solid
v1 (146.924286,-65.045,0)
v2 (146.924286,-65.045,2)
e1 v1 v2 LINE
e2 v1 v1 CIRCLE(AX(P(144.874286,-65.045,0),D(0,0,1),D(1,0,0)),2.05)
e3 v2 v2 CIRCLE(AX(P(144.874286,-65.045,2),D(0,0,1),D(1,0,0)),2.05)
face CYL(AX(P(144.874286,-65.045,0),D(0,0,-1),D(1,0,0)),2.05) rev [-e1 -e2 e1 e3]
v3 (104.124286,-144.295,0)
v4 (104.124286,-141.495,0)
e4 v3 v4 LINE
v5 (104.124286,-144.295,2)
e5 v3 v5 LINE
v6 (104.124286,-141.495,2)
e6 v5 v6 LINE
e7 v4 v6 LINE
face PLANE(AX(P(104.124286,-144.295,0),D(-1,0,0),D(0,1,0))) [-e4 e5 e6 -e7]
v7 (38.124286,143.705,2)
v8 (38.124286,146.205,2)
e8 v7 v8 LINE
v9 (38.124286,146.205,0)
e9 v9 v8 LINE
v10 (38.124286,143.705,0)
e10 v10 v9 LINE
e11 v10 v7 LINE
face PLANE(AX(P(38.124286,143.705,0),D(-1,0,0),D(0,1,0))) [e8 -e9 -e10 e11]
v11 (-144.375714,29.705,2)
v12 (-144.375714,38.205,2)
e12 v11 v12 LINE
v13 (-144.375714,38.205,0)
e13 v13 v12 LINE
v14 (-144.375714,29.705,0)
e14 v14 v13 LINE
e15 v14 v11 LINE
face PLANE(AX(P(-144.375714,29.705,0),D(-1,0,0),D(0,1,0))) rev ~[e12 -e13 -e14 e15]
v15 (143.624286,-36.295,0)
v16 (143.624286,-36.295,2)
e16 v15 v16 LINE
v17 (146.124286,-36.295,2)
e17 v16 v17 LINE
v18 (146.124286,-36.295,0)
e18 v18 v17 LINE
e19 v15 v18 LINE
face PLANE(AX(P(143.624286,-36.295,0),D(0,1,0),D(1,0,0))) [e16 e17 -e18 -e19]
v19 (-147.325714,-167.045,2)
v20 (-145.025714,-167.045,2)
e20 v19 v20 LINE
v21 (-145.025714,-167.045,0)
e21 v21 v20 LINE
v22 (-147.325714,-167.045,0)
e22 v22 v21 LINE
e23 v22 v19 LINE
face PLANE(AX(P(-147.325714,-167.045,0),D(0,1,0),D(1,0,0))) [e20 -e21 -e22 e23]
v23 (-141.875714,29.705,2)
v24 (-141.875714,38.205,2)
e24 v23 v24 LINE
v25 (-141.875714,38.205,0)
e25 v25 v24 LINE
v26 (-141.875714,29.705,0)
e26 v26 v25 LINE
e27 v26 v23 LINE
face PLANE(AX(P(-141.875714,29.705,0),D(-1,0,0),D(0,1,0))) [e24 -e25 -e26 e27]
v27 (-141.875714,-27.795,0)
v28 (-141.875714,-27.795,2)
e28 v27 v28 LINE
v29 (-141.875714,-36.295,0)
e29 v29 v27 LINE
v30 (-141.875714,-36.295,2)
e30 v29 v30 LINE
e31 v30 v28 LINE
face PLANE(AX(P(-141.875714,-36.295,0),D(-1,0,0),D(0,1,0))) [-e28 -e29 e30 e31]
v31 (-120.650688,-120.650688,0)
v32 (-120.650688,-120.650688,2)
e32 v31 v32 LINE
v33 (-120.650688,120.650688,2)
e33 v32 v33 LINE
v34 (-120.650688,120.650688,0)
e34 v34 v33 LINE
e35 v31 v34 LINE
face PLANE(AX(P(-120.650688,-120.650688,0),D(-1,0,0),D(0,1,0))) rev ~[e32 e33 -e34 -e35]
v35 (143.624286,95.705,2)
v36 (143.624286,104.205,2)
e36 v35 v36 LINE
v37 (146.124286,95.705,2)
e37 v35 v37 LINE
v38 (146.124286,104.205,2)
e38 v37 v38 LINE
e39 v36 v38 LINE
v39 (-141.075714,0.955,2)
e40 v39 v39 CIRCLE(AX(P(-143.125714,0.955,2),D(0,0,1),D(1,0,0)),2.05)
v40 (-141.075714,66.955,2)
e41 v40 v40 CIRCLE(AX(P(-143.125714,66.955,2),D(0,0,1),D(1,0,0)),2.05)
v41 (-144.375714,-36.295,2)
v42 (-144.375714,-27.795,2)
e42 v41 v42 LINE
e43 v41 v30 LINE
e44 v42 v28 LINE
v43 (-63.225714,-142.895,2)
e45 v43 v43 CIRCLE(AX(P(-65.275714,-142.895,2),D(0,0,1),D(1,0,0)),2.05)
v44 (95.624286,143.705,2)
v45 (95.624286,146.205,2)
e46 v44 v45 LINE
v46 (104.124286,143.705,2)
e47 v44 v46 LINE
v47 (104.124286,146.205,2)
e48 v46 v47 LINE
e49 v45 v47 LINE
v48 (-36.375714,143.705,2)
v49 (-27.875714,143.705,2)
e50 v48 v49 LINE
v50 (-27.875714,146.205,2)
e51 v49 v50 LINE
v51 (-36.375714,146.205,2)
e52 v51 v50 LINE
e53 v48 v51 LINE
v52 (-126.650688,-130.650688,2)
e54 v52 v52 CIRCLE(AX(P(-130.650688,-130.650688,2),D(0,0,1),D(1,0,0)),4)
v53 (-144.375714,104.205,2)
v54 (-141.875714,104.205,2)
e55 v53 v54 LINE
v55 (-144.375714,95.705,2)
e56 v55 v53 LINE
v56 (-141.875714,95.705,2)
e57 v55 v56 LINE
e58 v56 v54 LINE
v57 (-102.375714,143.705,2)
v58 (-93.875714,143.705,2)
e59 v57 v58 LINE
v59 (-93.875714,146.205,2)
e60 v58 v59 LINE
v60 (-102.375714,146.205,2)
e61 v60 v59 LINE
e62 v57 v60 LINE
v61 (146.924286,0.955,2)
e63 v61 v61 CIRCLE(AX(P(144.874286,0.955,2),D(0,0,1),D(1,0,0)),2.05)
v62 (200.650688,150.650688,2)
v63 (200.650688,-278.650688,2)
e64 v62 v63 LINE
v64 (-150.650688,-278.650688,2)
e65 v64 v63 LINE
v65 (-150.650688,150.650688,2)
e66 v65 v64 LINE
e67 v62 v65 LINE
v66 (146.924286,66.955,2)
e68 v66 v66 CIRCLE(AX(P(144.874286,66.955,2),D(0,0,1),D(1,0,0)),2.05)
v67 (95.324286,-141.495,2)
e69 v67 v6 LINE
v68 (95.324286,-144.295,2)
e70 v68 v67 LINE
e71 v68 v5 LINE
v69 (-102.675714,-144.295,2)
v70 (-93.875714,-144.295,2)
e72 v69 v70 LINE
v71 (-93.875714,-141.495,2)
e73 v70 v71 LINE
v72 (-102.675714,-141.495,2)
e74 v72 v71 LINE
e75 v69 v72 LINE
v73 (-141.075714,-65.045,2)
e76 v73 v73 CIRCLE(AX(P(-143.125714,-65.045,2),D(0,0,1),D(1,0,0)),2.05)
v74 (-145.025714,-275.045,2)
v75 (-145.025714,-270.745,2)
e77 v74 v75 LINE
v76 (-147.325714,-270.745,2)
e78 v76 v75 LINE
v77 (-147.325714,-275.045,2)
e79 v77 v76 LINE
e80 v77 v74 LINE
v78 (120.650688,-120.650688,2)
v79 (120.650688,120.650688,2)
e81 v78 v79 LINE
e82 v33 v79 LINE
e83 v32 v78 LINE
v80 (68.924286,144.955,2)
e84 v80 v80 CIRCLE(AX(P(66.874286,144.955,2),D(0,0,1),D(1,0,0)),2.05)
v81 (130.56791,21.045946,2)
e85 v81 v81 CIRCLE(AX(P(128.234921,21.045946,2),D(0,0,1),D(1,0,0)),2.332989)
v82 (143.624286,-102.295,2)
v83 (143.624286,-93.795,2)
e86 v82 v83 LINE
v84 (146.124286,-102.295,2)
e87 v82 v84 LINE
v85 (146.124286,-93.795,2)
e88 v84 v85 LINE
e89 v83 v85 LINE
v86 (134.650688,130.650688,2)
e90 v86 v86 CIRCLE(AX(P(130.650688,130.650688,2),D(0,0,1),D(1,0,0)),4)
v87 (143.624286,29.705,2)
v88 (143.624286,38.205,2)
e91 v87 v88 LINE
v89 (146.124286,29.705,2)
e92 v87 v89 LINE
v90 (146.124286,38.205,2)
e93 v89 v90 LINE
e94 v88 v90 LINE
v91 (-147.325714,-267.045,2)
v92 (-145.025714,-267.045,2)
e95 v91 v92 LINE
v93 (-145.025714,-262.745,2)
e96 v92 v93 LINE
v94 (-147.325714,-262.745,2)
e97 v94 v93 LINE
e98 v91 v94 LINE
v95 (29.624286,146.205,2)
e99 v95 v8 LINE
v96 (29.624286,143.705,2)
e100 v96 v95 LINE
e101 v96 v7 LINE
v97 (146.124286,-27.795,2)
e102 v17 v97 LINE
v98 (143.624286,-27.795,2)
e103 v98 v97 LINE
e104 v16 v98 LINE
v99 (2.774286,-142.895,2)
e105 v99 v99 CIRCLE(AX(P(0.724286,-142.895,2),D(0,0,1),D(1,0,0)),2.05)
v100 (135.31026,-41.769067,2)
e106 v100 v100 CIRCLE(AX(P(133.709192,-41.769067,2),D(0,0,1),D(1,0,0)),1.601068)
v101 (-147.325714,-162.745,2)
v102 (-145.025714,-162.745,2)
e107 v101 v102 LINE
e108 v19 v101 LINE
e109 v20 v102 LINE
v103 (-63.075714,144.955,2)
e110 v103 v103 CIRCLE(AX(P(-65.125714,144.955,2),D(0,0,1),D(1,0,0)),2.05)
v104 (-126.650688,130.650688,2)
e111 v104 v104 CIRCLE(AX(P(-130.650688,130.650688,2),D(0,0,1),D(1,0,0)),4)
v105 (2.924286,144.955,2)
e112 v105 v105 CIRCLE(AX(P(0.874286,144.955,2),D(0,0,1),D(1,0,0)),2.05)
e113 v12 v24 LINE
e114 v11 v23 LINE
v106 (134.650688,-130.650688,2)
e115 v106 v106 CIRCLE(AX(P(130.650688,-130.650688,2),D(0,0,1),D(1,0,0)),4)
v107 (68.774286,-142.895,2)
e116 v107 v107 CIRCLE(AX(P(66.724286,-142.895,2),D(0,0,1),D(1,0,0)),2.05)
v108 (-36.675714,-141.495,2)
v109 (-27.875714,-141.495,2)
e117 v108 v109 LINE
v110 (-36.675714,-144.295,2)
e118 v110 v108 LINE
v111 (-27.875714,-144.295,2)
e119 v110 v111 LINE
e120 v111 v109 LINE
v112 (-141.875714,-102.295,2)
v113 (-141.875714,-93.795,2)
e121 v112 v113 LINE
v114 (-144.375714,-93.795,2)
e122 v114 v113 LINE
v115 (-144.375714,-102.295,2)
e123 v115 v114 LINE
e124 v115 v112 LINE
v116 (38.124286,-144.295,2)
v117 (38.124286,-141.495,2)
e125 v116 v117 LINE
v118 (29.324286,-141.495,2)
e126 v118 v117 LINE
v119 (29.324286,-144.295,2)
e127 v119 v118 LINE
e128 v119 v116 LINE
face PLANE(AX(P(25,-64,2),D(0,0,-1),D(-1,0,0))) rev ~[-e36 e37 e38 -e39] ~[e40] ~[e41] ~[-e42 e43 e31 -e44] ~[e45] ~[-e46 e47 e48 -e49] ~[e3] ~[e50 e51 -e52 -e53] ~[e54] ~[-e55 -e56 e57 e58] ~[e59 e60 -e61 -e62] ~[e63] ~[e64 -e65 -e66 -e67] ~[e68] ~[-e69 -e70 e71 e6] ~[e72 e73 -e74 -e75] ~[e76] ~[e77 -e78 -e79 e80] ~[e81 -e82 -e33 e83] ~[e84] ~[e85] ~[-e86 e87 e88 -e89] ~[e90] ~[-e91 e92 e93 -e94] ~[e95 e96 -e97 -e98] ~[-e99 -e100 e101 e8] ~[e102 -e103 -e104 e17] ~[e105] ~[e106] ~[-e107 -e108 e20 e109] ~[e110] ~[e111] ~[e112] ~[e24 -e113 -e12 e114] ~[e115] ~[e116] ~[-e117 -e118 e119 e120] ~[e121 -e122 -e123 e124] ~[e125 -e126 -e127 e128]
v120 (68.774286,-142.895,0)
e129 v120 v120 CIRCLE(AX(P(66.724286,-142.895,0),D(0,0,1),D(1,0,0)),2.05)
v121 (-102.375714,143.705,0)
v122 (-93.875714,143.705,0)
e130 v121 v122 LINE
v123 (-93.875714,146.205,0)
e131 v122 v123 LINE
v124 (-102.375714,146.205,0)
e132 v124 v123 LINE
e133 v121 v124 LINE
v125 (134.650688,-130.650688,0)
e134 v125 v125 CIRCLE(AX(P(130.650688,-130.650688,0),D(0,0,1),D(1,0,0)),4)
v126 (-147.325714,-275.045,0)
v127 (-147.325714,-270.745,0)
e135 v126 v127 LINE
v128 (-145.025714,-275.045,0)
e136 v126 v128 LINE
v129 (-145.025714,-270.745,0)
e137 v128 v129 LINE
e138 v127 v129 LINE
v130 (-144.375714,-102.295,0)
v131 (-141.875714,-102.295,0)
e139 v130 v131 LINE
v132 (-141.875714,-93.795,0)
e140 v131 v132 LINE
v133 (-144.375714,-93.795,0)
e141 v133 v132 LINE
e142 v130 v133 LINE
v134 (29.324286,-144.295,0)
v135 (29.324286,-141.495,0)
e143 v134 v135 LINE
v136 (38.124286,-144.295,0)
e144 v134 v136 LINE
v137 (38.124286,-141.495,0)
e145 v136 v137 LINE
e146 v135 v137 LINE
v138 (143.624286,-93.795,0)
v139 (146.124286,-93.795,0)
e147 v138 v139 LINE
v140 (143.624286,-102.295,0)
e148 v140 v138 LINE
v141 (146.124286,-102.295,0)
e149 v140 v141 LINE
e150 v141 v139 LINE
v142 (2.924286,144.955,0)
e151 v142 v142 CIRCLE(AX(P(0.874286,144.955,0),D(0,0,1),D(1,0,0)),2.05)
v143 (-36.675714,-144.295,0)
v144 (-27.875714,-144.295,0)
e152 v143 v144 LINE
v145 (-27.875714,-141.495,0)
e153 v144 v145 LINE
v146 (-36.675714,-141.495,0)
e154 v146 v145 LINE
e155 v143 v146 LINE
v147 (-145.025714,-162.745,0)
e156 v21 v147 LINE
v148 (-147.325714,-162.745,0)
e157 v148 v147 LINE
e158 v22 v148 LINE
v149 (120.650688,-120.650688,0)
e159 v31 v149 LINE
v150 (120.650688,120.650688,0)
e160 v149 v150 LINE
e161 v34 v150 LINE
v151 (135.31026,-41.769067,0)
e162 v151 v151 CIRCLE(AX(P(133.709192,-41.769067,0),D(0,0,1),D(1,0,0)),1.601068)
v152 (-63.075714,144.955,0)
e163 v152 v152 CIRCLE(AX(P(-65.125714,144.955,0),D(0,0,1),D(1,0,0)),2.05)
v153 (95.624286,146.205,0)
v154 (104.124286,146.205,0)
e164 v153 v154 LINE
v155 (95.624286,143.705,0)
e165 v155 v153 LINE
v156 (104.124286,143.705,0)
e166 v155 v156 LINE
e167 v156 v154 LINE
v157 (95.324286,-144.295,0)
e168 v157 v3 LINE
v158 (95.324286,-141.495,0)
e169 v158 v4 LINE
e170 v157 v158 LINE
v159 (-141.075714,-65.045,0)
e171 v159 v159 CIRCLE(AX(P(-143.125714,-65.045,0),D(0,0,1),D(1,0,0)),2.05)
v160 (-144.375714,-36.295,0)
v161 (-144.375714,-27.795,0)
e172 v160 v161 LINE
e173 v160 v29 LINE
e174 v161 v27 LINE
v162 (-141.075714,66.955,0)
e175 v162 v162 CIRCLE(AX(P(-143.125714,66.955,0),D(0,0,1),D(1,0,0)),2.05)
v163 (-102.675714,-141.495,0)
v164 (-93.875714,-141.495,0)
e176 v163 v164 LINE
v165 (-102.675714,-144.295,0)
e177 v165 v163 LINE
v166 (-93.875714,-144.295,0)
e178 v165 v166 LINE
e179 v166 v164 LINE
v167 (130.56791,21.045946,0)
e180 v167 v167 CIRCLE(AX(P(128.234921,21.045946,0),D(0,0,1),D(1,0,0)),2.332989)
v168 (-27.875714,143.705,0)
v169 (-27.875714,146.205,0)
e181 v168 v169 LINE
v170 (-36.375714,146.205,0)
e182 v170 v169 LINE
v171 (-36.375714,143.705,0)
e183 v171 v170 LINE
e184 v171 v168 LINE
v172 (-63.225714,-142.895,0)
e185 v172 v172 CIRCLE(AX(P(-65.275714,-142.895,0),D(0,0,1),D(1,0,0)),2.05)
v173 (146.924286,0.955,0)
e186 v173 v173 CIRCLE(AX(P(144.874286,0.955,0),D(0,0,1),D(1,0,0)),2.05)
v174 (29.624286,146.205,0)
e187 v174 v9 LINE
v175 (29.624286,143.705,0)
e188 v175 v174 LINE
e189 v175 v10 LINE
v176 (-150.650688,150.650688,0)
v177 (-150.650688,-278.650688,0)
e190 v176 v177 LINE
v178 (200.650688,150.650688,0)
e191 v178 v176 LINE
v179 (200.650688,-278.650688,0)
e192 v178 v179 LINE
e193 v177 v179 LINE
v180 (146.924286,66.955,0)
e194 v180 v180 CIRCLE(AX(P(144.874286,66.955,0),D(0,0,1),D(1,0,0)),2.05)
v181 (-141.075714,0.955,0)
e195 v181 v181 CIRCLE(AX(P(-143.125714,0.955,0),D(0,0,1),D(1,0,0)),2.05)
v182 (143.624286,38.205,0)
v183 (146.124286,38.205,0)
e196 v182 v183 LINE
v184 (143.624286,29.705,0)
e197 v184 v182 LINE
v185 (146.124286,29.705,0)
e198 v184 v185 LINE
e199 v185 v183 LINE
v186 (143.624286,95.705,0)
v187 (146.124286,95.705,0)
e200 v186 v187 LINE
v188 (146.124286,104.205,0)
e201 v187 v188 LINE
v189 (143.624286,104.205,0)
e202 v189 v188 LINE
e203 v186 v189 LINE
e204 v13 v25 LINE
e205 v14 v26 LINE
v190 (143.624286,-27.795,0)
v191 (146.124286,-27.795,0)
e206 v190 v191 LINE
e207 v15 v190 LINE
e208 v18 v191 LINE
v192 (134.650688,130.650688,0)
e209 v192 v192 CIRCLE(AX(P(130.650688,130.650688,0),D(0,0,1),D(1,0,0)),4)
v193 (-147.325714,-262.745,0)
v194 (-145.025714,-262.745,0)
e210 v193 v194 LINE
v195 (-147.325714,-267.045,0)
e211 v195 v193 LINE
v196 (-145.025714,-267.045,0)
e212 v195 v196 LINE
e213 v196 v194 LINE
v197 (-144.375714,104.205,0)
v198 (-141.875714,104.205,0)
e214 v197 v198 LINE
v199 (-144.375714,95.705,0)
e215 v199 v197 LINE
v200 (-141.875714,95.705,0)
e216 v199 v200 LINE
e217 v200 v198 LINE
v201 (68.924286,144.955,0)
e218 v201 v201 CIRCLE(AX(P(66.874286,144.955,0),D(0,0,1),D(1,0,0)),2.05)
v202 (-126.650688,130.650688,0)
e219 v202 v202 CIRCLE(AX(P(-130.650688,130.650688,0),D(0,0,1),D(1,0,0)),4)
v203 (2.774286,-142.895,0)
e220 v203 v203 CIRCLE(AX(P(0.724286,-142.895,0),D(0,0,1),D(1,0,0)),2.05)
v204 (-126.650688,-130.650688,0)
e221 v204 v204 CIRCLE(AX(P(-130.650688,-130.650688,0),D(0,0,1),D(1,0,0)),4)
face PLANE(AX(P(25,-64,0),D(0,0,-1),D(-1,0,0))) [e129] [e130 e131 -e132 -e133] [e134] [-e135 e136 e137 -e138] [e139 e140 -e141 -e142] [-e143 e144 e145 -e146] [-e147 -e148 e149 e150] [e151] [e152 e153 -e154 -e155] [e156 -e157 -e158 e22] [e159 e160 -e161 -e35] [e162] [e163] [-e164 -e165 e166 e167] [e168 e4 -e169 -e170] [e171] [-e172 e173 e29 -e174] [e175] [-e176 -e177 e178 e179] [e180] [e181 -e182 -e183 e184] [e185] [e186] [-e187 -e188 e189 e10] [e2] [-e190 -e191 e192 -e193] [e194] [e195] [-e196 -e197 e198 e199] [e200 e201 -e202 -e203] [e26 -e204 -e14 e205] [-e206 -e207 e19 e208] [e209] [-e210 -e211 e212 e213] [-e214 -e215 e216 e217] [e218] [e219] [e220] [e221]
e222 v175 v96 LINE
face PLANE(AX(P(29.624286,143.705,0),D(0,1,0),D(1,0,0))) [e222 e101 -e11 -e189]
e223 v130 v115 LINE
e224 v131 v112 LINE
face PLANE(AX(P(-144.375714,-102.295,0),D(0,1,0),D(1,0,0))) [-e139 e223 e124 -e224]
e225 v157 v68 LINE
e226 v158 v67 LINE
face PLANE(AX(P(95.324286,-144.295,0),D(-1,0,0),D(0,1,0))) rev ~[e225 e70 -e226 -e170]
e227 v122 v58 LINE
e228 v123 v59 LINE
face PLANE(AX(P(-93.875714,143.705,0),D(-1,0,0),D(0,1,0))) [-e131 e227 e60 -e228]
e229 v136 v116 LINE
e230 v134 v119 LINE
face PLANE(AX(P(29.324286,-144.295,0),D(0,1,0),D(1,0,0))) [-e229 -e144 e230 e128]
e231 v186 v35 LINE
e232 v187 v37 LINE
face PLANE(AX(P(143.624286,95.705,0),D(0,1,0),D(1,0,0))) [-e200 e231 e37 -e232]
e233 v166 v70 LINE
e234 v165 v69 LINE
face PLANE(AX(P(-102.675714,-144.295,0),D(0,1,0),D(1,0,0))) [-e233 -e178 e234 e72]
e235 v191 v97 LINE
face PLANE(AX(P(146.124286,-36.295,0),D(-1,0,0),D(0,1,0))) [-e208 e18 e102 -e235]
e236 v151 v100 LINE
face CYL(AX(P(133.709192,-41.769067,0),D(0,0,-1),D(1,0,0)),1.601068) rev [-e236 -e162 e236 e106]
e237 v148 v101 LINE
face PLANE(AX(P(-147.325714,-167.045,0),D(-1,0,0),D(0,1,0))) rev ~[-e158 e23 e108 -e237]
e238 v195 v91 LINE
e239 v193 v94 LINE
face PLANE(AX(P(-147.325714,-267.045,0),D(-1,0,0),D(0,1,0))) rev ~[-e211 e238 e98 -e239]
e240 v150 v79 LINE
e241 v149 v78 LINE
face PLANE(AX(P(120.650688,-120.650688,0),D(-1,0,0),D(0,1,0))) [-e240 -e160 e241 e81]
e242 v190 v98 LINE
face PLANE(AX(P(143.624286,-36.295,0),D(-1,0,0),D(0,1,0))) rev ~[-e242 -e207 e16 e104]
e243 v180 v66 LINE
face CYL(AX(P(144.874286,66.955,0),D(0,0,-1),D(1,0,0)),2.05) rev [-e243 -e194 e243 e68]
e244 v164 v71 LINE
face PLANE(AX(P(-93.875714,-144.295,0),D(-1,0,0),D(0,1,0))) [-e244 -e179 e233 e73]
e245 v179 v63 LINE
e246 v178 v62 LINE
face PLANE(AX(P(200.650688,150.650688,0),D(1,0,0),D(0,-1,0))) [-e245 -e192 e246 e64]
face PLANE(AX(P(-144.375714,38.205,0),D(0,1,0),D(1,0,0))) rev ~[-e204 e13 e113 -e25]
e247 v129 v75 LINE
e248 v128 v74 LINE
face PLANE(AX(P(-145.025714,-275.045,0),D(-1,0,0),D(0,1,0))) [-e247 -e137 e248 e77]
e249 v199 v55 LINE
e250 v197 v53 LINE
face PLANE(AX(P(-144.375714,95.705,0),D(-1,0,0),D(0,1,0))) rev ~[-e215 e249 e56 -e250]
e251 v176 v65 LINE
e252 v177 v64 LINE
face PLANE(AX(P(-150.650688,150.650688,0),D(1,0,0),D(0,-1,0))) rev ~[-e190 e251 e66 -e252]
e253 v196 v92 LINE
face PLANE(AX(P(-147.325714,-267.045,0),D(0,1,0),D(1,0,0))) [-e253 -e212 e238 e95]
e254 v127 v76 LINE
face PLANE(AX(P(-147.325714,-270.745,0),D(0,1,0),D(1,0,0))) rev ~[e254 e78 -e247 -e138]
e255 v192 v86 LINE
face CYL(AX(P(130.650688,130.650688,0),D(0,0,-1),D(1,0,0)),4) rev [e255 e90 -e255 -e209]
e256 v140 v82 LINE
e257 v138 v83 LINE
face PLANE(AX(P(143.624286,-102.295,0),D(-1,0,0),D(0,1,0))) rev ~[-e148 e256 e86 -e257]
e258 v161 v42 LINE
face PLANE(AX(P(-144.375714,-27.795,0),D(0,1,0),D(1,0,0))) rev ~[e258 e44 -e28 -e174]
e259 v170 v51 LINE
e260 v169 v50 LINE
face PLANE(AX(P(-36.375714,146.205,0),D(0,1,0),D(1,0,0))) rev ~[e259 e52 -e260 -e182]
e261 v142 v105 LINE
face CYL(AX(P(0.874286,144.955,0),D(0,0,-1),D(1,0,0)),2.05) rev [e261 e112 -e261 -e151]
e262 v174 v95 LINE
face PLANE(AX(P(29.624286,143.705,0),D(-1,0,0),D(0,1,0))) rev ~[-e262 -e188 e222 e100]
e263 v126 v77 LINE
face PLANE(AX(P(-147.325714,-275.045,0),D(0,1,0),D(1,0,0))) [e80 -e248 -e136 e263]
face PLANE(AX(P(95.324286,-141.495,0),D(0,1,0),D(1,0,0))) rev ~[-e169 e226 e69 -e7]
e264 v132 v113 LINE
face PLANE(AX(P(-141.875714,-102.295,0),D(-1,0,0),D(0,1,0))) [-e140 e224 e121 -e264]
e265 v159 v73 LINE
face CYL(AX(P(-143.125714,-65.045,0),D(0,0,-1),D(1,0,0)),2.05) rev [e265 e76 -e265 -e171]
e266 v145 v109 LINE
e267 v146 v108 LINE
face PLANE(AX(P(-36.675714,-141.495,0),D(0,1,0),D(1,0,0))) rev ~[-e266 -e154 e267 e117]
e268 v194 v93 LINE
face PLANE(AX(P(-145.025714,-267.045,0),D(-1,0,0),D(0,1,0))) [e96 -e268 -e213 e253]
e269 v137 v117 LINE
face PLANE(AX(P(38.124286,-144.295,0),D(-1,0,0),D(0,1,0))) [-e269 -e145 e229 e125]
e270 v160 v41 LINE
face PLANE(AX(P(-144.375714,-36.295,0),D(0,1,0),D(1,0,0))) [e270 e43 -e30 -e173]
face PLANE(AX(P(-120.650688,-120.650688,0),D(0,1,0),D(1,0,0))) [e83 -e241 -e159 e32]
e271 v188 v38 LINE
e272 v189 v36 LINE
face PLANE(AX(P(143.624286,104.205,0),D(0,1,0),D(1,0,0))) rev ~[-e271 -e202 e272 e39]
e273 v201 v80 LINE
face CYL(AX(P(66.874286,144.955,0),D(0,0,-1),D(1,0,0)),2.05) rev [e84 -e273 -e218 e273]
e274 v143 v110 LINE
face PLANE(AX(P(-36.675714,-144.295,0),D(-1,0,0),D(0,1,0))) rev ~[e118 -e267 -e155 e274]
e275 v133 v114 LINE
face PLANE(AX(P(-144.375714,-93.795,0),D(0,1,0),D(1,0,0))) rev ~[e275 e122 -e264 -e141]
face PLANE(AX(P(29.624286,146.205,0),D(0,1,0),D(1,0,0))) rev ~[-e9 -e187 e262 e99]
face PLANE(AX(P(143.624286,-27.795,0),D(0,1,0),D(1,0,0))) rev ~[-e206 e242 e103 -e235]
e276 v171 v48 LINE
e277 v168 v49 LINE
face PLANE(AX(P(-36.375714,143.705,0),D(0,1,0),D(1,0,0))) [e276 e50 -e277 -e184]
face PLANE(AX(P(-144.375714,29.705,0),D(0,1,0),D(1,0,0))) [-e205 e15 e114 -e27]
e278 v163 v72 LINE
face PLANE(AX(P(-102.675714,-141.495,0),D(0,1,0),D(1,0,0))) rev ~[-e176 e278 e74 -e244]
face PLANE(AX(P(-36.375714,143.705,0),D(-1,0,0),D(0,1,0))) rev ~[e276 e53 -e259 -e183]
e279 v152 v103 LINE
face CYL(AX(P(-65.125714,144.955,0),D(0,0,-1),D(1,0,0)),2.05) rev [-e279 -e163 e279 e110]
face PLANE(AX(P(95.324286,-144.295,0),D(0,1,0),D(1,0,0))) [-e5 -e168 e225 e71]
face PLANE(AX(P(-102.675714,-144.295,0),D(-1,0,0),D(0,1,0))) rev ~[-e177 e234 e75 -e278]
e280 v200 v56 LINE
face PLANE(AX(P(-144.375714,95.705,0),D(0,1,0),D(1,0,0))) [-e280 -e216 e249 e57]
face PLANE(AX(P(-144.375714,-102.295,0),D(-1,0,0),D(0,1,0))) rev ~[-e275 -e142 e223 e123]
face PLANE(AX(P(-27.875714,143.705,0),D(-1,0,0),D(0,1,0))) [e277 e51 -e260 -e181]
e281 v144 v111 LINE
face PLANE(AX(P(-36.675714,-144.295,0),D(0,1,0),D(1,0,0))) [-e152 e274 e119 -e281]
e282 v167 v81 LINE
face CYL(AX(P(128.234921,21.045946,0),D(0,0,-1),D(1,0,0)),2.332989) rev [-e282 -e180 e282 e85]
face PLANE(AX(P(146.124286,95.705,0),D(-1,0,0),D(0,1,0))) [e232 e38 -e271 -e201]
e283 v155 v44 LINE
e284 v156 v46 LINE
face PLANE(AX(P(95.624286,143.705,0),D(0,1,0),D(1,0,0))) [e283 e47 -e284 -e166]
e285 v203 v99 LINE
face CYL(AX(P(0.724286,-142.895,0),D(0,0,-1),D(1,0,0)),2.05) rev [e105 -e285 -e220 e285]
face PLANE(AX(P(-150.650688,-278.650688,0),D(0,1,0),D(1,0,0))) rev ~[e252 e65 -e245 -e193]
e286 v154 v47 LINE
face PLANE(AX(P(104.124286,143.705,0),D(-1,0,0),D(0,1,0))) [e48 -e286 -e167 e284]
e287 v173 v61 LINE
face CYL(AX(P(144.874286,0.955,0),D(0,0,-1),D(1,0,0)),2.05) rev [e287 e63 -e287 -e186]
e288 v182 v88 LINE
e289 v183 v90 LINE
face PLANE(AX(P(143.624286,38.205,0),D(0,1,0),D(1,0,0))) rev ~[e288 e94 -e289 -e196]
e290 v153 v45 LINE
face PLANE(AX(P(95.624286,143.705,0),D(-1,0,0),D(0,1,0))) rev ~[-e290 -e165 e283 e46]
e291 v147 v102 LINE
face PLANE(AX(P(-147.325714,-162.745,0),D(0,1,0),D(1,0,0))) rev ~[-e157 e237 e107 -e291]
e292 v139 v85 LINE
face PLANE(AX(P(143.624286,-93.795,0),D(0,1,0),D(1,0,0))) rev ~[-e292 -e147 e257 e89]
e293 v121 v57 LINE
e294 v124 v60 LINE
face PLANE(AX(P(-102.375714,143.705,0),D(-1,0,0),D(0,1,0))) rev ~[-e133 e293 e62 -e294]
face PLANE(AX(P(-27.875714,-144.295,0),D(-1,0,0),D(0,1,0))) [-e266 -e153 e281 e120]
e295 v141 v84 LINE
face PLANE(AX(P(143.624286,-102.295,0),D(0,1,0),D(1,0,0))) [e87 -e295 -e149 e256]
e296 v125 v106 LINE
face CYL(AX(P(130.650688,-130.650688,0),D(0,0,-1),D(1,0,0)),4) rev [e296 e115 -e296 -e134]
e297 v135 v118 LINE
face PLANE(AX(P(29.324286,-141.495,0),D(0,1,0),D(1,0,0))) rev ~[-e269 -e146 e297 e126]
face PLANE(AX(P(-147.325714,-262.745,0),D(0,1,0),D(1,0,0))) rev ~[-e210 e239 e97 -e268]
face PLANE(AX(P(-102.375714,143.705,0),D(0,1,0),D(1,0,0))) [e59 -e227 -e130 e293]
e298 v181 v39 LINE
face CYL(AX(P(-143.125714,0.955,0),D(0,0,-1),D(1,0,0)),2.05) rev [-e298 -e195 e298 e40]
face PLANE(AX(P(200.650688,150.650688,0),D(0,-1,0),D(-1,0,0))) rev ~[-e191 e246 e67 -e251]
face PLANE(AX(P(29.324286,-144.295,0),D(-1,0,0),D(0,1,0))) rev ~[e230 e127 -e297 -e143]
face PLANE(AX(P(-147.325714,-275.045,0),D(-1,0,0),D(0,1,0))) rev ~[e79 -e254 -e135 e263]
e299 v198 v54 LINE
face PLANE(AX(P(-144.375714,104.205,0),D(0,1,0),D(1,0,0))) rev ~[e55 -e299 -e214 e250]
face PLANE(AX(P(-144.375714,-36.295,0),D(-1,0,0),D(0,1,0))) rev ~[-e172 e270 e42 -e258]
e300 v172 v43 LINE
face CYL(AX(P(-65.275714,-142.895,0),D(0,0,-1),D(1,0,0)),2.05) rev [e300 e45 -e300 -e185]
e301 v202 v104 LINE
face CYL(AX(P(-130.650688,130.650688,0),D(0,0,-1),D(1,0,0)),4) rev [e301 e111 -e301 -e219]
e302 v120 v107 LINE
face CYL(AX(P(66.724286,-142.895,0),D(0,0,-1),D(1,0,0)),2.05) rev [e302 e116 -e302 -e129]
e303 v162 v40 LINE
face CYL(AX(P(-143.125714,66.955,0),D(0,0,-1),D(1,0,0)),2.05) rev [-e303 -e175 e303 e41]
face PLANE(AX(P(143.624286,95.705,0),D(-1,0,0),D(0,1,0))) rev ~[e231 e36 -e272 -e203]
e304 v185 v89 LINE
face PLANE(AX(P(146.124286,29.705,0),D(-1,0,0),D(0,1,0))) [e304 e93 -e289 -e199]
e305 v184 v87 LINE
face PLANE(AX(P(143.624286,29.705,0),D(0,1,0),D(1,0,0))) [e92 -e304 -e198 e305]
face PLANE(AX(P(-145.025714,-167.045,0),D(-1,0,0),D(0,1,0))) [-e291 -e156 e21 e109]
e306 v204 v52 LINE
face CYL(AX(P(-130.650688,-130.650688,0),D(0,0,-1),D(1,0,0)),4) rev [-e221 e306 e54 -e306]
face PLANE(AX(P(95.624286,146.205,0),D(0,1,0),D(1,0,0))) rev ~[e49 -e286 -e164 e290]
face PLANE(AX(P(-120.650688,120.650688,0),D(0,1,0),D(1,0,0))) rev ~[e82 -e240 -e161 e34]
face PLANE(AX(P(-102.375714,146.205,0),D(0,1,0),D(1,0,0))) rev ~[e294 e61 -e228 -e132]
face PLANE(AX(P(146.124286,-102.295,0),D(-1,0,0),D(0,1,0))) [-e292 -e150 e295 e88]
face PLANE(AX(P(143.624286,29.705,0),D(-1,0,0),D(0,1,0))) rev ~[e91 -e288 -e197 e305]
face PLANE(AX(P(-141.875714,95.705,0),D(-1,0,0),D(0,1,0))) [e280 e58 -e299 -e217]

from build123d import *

# Parameters (mm, degrees)
SKETCH_1_R      = 2.05
SKETCH_1_R_2    = 4
SKETCH_1_R_3    = 2.332988974
SKETCH_1_R_4    = 1.601067765
SKETCH_1_W      = 8.8
SKETCH_1_H      = 2.8
SKETCH_1_W_2    = 2.5
SKETCH_1_H_2    = 8.5
SKETCH_1_W_3    = 8.5
SKETCH_1_H_3    = 2.5
SKETCH_1_W_4    = 241.301375666
SKETCH_1_H_4    = 241.301375666
SKETCH_1_W_5    = 2.3
SKETCH_1_H_5    = 4.3
EXTRUDE_1_DEPTH = 2


with BuildPart() as part:
    # 草图1 → 凸台-拉伸1 (new body)
    with BuildSketch(Plane.XY):
        Polygon((-150.650687833, -150.650687833), (-150.650687833, 150.650687833), (150.650687833, 150.650687833), (200.650687833, 150.650687833), (200.650687833, -278.650687833), (150.650687833, -278.650687833), (-150.650687833, -278.650687833), align=None)
        with Locations((0.724285714, -142.895)):
            Circle(SKETCH_1_R, mode=Mode.SUBTRACT)
        with Locations((66.724285714, -142.895)):
            Circle(SKETCH_1_R, mode=Mode.SUBTRACT)
        with Locations((-65.275714286, -142.895)):
            Circle(SKETCH_1_R, mode=Mode.SUBTRACT)
        with Locations((-143.125714286, 66.955)):
            Circle(SKETCH_1_R, mode=Mode.SUBTRACT)
        with Locations((-143.125714286, 0.955)):
            Circle(SKETCH_1_R, mode=Mode.SUBTRACT)
        with Locations((-143.125714286, -65.045)):
            Circle(SKETCH_1_R, mode=Mode.SUBTRACT)
        with Locations((66.874285714, 144.955)):
            Circle(SKETCH_1_R, mode=Mode.SUBTRACT)
        with Locations((0.874285714, 144.955)):
            Circle(SKETCH_1_R, mode=Mode.SUBTRACT)
        with Locations((-65.125714286, 144.955)):
            Circle(SKETCH_1_R, mode=Mode.SUBTRACT)
        with Locations((144.874285714, -65.045)):
            Circle(SKETCH_1_R, mode=Mode.SUBTRACT)
        with Locations((144.874285714, 0.955)):
            Circle(SKETCH_1_R, mode=Mode.SUBTRACT)
        with Locations((144.874285714, 66.955)):
            Circle(SKETCH_1_R, mode=Mode.SUBTRACT)
        with Locations((-130.650687833, -130.650687833)):
            Circle(SKETCH_1_R_2, mode=Mode.SUBTRACT)
        with Locations((-130.650687833, 130.650687833)):
            Circle(SKETCH_1_R_2, mode=Mode.SUBTRACT)
        with Locations((130.650687833, 130.650687833)):
            Circle(SKETCH_1_R_2, mode=Mode.SUBTRACT)
        with Locations((130.650687833, -130.650687833)):
            Circle(SKETCH_1_R_2, mode=Mode.SUBTRACT)
        with Locations((128.234921063, 21.045946403)):
            Circle(SKETCH_1_R_3, mode=Mode.SUBTRACT)
        with Locations((133.709191973, -41.76906745)):
            Circle(SKETCH_1_R_4, mode=Mode.SUBTRACT)
        with Locations((99.724285714, -142.895)):
            Rectangle(SKETCH_1_W, SKETCH_1_H, mode=Mode.SUBTRACT)
        with Locations((33.724285714, -142.895)):
            Rectangle(SKETCH_1_W, SKETCH_1_H, mode=Mode.SUBTRACT)
        with Locations((-32.275714286, -142.895)):
            Rectangle(SKETCH_1_W, SKETCH_1_H, mode=Mode.SUBTRACT)
        with Locations((-98.275714286, -142.895)):
            Rectangle(SKETCH_1_W, SKETCH_1_H, mode=Mode.SUBTRACT)
        with Locations((-143.125714286, 99.955)):
            Rectangle(SKETCH_1_W_2, SKETCH_1_H_2, mode=Mode.SUBTRACT)
        with Locations((-143.125714286, 33.955)):
            Rectangle(SKETCH_1_W_2, SKETCH_1_H_2, mode=Mode.SUBTRACT)
        with Locations((-143.125714286, -32.045)):
            Rectangle(SKETCH_1_W_2, SKETCH_1_H_2, mode=Mode.SUBTRACT)
        with Locations((-143.125714286, -98.045)):
            Rectangle(SKETCH_1_W_2, SKETCH_1_H_2, mode=Mode.SUBTRACT)
        with Locations((99.874285714, 144.955)):
            Rectangle(SKETCH_1_W_3, SKETCH_1_H_3, mode=Mode.SUBTRACT)
        with Locations((33.874285714, 144.955)):
            Rectangle(SKETCH_1_W_3, SKETCH_1_H_3, mode=Mode.SUBTRACT)
        with Locations((-32.125714286, 144.955)):
            Rectangle(SKETCH_1_W_3, SKETCH_1_H_3, mode=Mode.SUBTRACT)
        with Locations((-98.125714286, 144.955)):
            Rectangle(SKETCH_1_W_3, SKETCH_1_H_3, mode=Mode.SUBTRACT)
        with Locations((144.874285714, -98.045)):
            Rectangle(SKETCH_1_W_2, SKETCH_1_H_2, mode=Mode.SUBTRACT)
        with Locations((144.874285714, -32.045)):
            Rectangle(SKETCH_1_W_2, SKETCH_1_H_2, mode=Mode.SUBTRACT)
        with Locations((144.874285714, 33.955)):
            Rectangle(SKETCH_1_W_2, SKETCH_1_H_2, mode=Mode.SUBTRACT)
        with Locations((144.874285714, 99.955)):
            Rectangle(SKETCH_1_W_2, SKETCH_1_H_2, mode=Mode.SUBTRACT)
        Rectangle(SKETCH_1_W_4, SKETCH_1_H_4, mode=Mode.SUBTRACT)
        with Locations((-146.175714286, -272.895)):
            Rectangle(SKETCH_1_W_5, SKETCH_1_H_5, mode=Mode.SUBTRACT)
        with Locations((-146.175714286, -264.895)):
            Rectangle(SKETCH_1_W_5, SKETCH_1_H_5, mode=Mode.SUBTRACT)
        with Locations((-146.175714286, -164.895)):
            Rectangle(SKETCH_1_W_5, SKETCH_1_H_5, mode=Mode.SUBTRACT)
    extrude(amount=EXTRUDE_1_DEPTH)


solid = part.part
